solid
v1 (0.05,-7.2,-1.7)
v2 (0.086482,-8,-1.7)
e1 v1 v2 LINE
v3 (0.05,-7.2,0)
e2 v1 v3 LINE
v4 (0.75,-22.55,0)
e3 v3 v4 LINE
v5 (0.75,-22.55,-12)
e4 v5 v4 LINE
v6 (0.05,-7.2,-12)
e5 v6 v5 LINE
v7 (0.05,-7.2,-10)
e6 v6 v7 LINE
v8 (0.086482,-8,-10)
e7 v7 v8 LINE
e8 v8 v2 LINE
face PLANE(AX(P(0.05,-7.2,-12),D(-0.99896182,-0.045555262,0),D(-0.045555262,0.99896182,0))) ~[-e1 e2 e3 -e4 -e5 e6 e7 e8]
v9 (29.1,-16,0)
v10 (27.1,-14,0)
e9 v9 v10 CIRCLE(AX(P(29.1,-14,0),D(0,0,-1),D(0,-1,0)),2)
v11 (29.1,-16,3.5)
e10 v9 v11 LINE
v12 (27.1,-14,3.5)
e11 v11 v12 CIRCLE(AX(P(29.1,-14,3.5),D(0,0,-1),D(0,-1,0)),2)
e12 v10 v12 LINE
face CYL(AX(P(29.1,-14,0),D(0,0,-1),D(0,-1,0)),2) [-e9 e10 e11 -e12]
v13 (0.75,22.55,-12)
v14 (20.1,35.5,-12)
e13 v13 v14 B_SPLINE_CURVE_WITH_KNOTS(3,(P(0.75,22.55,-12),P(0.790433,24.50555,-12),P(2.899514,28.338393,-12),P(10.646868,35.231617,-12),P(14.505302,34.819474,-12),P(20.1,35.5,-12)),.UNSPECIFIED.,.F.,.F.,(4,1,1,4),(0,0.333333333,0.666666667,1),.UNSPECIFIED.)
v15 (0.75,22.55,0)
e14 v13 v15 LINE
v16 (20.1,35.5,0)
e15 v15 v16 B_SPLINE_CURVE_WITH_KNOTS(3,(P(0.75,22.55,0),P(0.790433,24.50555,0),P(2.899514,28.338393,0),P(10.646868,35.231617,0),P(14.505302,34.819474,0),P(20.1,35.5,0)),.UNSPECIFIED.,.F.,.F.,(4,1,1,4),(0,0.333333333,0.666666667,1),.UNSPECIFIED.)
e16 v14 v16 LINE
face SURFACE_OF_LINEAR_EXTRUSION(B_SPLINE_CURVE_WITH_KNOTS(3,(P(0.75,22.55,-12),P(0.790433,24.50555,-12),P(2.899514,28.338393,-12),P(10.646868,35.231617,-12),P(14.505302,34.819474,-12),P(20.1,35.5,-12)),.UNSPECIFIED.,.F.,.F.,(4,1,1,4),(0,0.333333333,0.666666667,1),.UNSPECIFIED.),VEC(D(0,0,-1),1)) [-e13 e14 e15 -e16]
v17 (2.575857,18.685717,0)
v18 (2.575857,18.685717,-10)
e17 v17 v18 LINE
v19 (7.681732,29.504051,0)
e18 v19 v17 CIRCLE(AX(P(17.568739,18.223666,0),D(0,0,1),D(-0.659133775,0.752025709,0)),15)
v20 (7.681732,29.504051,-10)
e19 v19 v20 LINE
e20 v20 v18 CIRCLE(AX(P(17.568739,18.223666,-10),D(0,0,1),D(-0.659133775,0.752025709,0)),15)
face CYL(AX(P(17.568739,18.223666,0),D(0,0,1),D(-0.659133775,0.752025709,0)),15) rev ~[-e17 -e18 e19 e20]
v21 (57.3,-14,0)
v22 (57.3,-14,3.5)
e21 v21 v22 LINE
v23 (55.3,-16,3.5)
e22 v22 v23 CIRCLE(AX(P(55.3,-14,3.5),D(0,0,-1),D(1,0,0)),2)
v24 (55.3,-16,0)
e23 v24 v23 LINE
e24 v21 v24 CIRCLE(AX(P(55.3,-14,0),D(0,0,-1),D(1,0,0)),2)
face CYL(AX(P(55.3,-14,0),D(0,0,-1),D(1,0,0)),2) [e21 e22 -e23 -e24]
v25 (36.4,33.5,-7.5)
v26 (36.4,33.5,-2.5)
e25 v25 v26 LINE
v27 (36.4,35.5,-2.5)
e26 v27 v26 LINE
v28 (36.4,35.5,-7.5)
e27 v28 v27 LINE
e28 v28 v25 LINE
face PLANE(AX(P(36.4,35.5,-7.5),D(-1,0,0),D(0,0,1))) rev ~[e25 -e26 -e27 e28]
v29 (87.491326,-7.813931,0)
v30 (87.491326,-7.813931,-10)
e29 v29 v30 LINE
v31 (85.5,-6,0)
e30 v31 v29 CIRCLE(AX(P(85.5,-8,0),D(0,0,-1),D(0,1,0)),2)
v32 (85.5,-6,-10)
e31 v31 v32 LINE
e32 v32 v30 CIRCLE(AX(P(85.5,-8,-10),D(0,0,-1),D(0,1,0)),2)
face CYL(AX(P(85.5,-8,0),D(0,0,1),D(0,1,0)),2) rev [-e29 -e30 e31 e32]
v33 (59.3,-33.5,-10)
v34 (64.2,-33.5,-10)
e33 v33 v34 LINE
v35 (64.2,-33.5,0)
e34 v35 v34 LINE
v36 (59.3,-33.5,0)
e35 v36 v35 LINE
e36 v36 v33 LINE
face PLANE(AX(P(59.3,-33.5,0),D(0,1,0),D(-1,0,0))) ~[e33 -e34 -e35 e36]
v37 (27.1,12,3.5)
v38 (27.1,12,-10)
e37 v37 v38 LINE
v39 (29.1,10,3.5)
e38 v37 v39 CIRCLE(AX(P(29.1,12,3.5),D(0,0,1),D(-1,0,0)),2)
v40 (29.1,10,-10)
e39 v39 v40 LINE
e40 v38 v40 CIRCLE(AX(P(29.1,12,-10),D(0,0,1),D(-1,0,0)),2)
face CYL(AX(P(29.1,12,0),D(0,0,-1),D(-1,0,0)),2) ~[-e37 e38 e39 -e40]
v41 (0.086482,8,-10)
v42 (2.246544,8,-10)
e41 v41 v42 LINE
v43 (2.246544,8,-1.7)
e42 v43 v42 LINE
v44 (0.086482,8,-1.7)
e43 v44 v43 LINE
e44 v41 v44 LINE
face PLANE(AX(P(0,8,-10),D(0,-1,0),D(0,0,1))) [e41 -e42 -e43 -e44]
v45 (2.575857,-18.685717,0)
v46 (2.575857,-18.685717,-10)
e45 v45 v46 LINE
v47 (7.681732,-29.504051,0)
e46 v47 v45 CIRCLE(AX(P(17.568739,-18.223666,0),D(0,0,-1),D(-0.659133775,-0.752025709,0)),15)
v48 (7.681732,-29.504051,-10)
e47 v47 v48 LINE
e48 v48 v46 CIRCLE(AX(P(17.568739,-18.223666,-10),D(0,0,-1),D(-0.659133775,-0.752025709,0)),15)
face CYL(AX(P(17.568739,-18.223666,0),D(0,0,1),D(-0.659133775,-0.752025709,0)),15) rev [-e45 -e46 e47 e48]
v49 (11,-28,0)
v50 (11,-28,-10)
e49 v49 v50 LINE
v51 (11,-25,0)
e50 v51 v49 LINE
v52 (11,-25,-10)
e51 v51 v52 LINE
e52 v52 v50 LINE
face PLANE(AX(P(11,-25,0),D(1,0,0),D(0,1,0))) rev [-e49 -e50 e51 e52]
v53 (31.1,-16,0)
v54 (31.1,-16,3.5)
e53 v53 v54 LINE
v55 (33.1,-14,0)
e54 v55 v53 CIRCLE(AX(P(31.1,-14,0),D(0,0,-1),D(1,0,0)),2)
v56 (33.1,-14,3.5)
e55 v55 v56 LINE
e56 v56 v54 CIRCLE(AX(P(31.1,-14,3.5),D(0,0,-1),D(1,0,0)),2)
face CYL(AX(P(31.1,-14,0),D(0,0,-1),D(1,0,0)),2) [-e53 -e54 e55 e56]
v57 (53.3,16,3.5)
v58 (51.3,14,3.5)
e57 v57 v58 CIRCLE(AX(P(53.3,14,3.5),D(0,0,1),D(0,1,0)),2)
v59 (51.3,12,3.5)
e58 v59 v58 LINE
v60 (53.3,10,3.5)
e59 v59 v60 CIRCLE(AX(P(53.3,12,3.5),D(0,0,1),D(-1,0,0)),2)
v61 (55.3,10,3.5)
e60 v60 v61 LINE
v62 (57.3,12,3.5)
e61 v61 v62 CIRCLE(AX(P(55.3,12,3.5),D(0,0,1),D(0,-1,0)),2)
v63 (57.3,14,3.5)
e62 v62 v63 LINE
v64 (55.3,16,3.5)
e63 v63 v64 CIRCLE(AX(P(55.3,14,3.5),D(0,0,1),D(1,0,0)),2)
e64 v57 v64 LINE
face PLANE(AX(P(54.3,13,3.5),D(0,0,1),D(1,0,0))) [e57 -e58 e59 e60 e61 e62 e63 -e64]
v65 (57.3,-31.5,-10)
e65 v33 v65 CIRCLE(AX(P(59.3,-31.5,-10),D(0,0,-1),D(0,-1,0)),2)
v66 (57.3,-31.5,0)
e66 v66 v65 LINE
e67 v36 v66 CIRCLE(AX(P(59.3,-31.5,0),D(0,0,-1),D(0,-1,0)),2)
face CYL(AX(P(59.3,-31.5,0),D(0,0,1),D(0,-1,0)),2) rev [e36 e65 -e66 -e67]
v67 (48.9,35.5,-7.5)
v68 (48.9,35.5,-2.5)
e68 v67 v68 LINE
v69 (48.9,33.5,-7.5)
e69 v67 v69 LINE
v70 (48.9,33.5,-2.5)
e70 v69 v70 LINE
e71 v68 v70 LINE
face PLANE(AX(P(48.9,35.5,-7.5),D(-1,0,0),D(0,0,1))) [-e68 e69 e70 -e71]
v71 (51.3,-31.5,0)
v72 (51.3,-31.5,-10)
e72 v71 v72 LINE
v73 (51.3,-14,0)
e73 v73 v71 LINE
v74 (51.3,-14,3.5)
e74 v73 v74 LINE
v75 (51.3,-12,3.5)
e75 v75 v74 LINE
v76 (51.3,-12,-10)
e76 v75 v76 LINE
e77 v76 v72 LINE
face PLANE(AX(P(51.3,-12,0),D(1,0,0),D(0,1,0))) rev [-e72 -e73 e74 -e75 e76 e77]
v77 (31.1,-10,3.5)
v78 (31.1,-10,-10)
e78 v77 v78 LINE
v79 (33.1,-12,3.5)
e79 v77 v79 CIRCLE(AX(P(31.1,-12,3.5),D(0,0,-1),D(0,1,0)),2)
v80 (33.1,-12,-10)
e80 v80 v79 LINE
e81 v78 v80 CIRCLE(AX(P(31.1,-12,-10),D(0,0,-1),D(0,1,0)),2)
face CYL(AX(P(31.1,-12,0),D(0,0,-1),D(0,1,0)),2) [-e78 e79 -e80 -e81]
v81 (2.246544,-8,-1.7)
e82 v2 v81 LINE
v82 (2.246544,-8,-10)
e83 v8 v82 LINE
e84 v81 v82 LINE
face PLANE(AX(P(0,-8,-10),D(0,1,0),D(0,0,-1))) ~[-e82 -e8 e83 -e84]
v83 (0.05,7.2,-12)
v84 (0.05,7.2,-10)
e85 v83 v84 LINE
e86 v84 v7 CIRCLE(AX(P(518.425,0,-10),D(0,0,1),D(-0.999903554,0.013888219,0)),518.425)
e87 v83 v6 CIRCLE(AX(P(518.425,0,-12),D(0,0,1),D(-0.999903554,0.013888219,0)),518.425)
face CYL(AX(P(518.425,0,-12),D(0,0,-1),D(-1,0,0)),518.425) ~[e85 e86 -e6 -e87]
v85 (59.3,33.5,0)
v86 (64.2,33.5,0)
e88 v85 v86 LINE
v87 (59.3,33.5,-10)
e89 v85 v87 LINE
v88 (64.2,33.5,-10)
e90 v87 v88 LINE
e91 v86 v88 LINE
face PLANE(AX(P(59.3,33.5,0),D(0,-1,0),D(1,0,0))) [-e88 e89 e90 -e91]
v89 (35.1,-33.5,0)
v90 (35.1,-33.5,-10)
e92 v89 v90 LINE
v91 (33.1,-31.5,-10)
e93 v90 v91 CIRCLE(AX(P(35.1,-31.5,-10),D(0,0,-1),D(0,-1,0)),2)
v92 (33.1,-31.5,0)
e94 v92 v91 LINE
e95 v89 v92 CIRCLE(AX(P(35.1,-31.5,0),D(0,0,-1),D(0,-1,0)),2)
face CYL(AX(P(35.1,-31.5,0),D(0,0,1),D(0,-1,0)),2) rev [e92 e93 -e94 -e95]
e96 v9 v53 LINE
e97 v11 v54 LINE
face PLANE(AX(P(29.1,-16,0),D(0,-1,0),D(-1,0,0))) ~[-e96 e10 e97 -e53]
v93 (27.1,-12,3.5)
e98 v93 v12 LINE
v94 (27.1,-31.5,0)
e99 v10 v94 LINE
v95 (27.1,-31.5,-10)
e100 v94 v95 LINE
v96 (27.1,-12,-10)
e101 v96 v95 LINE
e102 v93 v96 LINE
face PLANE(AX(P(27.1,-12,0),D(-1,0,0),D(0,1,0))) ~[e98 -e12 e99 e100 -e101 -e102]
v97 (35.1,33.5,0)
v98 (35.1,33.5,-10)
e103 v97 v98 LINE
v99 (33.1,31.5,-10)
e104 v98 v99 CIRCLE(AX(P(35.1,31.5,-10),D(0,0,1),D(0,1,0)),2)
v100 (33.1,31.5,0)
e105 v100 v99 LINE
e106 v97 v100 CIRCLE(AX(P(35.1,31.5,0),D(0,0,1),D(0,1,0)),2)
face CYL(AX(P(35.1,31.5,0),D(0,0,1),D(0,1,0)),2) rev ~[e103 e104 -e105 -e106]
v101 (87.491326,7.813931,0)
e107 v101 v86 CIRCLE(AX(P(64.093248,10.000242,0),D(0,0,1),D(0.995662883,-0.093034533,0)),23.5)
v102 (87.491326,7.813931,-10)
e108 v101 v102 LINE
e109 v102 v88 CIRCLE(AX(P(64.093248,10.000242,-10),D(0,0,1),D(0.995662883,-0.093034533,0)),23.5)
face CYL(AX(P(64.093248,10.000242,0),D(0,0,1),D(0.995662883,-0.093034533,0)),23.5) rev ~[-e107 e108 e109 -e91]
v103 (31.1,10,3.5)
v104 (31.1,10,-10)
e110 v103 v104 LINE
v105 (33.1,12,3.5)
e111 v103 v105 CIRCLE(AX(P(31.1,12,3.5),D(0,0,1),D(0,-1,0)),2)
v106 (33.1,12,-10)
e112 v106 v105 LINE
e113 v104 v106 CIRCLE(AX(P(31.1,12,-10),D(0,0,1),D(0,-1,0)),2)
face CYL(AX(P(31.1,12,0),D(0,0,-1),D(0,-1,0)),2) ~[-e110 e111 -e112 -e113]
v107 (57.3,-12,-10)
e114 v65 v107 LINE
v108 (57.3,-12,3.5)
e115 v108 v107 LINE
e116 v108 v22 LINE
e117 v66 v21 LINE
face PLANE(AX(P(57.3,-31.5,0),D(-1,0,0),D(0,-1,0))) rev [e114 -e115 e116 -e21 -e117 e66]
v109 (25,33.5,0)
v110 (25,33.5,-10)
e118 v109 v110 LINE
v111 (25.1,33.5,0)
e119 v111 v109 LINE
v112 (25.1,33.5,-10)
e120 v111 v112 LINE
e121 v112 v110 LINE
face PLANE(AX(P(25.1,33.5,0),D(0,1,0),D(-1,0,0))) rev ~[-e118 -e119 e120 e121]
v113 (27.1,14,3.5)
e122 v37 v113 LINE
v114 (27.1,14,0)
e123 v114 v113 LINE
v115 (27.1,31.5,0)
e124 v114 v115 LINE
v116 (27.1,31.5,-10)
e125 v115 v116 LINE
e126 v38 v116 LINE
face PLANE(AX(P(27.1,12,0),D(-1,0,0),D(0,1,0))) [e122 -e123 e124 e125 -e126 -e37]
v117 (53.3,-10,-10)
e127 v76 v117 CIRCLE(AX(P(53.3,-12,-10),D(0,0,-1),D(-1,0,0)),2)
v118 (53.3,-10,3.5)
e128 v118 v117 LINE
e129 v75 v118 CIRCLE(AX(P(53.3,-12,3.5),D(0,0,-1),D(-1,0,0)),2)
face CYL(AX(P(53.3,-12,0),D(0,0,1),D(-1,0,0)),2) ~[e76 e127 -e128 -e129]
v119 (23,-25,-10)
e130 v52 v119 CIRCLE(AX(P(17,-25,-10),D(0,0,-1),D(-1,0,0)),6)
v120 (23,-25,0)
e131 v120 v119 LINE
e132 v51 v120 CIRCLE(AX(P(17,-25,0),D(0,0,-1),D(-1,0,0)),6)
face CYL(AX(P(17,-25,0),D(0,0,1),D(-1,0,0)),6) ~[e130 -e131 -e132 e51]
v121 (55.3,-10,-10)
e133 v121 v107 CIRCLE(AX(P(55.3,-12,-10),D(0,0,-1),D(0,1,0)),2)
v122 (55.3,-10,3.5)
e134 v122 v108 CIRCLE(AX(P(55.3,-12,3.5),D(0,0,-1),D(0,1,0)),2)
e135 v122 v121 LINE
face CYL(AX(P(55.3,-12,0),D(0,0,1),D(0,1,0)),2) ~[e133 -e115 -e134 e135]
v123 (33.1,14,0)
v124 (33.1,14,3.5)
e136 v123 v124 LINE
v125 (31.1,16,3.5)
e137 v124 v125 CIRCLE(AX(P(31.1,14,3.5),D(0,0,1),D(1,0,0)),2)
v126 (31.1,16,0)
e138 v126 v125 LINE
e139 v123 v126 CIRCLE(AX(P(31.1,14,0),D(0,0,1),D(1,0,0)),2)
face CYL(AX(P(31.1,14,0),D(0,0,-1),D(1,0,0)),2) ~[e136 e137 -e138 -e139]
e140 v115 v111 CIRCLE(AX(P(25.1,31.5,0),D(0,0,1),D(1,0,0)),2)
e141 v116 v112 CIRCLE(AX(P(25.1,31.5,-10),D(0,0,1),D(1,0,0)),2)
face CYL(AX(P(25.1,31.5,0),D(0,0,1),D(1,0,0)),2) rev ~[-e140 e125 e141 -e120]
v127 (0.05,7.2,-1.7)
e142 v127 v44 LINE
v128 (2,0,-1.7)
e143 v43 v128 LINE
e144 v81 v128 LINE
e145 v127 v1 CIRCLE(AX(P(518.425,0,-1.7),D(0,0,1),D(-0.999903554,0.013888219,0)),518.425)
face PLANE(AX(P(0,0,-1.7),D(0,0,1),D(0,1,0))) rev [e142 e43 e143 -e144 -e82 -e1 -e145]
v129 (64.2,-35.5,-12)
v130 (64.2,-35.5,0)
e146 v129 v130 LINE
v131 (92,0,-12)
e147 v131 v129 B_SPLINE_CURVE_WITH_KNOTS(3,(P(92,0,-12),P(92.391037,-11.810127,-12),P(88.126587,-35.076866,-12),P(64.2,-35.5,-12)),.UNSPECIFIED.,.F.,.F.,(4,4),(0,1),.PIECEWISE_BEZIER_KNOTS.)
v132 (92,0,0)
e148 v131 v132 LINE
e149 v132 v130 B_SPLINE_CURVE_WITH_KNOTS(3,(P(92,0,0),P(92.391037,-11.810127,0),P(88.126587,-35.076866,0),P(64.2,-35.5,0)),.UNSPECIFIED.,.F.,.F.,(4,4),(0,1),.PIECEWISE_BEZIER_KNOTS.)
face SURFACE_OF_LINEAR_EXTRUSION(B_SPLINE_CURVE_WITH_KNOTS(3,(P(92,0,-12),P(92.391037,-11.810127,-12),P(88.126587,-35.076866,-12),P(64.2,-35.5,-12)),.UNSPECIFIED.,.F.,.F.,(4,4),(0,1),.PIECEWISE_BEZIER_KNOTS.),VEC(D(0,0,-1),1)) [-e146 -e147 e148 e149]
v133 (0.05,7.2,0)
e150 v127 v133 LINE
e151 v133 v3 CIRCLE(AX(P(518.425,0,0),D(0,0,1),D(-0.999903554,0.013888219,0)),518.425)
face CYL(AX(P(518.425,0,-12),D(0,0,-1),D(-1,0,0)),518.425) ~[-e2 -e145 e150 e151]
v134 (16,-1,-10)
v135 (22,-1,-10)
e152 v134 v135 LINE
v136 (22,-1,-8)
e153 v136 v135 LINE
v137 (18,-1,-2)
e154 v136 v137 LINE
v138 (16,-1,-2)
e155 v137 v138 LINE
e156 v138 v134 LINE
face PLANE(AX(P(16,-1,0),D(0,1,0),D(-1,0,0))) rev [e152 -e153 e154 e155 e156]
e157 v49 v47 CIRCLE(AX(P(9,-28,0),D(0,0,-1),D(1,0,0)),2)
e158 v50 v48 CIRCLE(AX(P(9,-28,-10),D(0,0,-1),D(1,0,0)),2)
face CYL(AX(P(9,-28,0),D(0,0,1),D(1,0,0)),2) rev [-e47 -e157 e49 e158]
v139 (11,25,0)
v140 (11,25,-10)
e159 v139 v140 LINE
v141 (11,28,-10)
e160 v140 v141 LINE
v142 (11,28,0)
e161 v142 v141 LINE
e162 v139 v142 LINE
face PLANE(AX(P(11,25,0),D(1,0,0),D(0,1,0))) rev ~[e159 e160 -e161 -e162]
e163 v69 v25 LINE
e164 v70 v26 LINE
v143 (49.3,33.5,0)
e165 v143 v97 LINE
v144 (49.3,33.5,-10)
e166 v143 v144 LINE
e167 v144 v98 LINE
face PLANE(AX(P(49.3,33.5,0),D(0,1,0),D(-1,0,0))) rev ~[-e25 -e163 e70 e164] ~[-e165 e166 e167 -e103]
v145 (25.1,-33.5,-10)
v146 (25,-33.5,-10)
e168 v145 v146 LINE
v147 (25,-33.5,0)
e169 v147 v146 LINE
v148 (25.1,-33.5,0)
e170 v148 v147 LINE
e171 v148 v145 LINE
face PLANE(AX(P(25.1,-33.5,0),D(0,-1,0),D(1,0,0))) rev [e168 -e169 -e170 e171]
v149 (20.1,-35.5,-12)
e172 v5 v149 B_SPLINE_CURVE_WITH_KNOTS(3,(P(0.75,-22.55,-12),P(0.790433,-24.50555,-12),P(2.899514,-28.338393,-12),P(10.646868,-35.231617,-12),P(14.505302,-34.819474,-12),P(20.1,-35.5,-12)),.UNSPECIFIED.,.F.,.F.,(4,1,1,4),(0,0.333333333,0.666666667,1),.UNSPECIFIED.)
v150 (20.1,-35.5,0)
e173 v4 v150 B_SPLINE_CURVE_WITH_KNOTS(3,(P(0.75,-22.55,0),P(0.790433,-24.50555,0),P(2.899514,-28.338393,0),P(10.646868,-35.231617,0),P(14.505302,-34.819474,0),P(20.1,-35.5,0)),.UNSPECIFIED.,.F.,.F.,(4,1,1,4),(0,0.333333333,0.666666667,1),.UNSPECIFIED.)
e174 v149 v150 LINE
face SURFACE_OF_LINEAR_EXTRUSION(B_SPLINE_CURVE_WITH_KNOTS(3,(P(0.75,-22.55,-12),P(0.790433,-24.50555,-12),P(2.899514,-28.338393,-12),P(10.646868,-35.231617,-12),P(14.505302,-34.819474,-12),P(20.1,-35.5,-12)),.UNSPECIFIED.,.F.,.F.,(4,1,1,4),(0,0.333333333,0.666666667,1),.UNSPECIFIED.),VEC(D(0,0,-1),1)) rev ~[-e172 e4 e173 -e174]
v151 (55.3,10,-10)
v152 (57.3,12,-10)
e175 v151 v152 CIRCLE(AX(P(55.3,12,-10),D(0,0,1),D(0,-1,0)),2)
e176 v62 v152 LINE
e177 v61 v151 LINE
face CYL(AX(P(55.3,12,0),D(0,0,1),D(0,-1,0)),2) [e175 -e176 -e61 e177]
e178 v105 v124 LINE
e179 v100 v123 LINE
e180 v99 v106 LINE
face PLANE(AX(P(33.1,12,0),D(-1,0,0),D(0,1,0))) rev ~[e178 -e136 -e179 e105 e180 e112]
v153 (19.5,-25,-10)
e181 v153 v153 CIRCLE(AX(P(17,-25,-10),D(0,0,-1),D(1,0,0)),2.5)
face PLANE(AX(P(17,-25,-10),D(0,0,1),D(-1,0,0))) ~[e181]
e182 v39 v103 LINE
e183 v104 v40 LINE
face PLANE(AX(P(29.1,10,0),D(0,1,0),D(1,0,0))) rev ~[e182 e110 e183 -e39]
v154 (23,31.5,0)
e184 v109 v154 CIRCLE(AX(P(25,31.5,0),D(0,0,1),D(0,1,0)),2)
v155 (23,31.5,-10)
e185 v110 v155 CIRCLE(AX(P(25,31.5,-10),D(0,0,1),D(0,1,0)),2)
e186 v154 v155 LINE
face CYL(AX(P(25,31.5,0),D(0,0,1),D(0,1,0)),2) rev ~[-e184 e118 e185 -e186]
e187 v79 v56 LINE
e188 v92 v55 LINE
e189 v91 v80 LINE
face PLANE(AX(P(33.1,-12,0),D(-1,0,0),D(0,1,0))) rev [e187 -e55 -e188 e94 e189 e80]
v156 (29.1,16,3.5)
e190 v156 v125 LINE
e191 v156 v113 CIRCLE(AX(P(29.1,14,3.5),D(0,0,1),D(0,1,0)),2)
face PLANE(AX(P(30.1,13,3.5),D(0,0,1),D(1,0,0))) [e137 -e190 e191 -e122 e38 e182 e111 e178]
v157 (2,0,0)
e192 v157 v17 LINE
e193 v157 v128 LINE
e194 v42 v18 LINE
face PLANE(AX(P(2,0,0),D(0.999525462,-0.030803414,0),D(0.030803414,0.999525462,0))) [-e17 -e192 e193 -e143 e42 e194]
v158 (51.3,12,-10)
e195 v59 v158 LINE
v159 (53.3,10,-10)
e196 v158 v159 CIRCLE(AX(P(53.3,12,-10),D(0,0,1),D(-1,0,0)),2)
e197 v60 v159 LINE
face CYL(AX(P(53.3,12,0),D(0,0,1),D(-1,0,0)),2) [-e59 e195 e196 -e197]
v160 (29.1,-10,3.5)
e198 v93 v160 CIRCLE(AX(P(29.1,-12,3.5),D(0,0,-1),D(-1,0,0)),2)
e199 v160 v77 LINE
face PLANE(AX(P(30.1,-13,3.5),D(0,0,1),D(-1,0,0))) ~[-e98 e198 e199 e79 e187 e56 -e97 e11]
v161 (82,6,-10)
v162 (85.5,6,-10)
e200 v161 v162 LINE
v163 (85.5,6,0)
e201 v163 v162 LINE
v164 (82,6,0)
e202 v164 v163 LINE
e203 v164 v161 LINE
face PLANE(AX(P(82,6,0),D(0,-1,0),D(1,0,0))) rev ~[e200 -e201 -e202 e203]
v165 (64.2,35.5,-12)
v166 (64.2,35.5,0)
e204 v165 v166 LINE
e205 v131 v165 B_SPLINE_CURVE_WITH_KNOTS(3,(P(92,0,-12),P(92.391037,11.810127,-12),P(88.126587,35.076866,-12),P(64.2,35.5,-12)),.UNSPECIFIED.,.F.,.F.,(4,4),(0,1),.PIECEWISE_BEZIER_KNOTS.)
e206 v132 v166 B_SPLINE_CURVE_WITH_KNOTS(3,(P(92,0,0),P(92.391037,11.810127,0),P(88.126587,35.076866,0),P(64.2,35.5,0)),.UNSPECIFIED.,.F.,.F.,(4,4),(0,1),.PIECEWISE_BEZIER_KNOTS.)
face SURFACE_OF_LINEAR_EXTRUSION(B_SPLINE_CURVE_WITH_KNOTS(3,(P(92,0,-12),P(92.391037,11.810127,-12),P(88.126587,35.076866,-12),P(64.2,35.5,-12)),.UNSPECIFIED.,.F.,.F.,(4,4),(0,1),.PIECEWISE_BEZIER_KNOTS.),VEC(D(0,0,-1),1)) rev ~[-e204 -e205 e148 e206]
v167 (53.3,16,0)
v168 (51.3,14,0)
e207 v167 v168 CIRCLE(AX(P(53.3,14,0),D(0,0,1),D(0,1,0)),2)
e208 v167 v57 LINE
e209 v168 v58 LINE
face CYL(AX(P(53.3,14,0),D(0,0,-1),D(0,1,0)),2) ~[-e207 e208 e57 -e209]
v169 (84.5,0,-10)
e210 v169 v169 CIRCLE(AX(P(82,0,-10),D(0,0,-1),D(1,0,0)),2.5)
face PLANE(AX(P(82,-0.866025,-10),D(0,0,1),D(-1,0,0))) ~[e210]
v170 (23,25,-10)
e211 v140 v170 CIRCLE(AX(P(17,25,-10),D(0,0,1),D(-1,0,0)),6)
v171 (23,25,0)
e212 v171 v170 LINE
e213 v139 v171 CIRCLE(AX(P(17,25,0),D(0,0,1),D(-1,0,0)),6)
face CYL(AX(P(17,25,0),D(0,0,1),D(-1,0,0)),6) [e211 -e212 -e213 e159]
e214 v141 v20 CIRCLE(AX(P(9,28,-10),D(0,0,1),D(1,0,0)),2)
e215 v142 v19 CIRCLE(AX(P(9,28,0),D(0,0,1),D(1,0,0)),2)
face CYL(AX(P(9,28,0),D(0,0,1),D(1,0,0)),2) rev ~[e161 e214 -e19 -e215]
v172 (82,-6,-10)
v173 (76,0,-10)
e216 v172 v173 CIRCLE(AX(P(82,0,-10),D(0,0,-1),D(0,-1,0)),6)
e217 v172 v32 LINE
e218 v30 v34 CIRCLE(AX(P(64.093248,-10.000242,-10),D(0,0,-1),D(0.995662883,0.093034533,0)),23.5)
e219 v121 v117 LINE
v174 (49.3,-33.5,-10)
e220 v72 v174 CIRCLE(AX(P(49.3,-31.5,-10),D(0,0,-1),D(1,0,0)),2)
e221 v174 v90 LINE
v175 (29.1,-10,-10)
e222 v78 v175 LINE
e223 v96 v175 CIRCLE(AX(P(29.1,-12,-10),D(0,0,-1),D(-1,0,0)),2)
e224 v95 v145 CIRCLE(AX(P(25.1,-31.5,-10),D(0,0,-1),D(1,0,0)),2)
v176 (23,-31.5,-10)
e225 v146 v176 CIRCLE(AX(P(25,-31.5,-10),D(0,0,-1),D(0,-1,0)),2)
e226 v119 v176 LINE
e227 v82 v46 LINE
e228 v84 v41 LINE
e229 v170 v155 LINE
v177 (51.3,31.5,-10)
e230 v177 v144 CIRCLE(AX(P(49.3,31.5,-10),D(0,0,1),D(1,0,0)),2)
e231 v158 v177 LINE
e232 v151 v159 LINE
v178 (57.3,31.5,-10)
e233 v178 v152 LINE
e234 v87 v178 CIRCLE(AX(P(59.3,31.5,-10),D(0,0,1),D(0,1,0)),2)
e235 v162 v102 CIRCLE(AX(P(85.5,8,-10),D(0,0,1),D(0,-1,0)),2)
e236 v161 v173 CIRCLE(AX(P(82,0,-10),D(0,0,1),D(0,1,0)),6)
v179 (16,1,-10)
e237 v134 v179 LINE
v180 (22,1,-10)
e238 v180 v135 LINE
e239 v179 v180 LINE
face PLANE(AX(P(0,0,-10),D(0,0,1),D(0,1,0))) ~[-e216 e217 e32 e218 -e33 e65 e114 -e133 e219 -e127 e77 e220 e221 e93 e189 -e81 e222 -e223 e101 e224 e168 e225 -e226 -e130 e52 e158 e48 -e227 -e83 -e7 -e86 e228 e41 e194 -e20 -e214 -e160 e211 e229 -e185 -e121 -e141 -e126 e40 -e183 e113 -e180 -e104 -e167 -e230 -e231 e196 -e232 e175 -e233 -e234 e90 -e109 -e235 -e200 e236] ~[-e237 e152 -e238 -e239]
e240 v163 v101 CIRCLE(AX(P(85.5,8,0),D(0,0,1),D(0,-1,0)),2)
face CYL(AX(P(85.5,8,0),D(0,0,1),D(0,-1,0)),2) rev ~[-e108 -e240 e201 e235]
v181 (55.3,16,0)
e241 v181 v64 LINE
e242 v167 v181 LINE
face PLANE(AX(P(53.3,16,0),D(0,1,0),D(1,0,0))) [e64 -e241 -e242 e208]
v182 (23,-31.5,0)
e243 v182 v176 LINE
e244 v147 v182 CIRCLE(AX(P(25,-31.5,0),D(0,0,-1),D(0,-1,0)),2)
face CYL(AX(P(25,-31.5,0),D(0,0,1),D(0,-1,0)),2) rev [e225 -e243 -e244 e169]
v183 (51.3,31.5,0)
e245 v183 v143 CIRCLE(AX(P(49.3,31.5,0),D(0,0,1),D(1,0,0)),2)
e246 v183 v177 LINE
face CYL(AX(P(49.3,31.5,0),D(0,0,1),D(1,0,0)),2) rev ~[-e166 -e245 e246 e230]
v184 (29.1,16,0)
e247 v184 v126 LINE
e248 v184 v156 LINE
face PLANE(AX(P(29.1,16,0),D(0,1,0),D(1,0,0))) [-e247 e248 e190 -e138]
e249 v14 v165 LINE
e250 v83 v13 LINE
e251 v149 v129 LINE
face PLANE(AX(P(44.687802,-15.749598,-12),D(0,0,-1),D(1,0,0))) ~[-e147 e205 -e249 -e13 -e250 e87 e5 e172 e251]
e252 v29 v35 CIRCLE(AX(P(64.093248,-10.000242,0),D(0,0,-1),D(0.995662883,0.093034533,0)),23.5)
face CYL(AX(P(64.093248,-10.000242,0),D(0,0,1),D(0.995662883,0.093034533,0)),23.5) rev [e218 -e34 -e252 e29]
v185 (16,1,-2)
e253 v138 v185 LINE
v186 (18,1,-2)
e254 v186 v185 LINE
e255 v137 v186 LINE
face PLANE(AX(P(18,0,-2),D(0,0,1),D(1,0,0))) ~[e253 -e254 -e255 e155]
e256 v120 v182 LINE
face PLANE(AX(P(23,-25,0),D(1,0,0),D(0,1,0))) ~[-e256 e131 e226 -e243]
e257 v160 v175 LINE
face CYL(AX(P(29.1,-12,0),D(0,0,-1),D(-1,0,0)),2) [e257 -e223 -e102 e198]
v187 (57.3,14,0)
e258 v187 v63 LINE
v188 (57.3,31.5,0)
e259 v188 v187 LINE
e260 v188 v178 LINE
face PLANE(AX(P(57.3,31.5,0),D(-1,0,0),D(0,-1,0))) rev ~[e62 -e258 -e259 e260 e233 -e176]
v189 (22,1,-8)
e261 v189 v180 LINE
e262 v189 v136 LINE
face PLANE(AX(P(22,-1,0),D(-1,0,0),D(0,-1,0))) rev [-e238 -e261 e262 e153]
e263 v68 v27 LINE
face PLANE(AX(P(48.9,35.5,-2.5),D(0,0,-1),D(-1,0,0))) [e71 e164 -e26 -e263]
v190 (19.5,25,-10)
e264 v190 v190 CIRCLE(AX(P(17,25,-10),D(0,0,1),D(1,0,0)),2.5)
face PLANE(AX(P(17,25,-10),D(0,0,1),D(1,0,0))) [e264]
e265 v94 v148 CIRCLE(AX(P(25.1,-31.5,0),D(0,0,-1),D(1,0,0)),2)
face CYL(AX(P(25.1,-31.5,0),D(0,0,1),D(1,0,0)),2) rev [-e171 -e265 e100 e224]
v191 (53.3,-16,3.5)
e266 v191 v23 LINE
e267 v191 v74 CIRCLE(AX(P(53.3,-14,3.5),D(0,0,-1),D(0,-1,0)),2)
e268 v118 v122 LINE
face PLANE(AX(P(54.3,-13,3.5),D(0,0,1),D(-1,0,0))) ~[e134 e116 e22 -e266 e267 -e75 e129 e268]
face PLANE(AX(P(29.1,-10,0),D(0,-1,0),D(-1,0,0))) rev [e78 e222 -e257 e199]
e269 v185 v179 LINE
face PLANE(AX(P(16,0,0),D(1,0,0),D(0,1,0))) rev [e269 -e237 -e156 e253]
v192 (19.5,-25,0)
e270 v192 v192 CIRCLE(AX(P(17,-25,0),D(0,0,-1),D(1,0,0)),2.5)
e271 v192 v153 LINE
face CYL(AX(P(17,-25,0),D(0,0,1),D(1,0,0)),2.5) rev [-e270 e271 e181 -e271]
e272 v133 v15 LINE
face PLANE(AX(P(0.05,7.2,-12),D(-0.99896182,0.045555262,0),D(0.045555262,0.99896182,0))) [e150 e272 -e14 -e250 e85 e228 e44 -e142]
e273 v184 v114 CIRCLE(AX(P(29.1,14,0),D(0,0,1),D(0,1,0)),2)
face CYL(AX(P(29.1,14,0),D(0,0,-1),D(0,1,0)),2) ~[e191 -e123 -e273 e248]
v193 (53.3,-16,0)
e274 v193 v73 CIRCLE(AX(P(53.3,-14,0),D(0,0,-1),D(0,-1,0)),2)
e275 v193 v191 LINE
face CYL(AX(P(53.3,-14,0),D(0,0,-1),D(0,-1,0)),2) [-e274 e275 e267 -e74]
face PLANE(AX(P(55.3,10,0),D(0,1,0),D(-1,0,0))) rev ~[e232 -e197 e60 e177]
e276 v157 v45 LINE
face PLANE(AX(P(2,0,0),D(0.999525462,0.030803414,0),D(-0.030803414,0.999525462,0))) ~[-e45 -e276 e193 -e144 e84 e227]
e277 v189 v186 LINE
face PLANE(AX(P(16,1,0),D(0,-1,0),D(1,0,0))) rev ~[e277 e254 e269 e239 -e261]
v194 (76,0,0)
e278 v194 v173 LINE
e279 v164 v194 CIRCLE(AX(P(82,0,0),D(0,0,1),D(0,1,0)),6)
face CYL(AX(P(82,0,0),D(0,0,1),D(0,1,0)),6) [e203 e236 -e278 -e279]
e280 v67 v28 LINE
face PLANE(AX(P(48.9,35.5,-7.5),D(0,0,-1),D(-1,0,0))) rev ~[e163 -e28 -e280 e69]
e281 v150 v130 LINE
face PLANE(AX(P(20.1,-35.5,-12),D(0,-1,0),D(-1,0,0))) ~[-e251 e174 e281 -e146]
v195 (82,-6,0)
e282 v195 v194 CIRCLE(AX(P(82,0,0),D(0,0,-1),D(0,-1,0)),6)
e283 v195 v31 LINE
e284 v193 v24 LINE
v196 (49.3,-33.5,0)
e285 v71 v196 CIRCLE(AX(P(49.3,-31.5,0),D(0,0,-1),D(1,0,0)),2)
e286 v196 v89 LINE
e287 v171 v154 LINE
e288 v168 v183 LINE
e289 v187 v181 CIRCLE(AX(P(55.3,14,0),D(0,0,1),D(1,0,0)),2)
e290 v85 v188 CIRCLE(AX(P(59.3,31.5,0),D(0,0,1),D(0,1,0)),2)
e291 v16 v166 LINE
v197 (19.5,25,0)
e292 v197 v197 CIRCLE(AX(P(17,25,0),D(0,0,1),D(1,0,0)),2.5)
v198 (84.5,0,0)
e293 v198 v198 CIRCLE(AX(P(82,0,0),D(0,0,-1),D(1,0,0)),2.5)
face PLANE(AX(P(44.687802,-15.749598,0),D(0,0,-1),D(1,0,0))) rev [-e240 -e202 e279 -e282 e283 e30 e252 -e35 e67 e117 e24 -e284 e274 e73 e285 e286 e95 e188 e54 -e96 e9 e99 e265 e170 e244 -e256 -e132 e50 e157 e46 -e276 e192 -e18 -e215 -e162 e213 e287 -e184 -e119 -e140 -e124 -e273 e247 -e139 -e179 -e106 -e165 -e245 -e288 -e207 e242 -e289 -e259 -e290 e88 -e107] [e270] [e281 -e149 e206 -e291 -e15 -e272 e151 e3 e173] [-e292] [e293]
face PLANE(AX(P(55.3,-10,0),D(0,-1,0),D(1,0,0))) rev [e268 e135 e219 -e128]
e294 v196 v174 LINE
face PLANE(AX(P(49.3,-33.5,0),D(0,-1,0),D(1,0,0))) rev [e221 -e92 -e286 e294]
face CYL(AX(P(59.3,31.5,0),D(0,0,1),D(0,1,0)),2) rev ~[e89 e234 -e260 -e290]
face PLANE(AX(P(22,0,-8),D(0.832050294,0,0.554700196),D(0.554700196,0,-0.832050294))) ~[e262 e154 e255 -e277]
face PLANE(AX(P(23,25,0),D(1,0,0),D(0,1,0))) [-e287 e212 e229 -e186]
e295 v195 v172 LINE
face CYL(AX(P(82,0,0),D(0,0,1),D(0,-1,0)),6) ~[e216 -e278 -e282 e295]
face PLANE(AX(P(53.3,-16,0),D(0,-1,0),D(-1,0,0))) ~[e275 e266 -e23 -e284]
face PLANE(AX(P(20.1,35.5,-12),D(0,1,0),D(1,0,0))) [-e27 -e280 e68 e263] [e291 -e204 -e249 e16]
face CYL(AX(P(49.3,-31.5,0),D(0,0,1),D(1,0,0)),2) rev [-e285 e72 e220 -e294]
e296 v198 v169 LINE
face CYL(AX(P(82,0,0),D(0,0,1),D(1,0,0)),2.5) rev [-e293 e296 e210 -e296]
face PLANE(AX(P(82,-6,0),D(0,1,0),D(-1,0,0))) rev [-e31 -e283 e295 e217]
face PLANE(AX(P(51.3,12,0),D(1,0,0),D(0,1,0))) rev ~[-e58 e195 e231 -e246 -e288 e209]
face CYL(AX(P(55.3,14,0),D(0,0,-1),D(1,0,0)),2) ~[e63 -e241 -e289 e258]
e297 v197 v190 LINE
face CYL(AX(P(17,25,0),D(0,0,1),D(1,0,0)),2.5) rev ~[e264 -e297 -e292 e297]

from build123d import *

# Parameters (mm, degrees)
PAD005_DEPTH    = 12
SKETCH025_R     = 2.5
POCKET019_DEPTH = 10
POCKET020_DEPTH = 1
SKETCH027_W     = 8
SKETCH027_H     = 8.3
POCKET021_DEPTH = 5
PAD006_DEPTH    = 3.5
SKETCH029_W     = 12.5
SKETCH029_H     = 5
POCKET022_DEPTH = 2


with BuildPart() as part:
    # Sketch024 → Pad005 (new body)
    with BuildSketch(Plane.XY):
        with BuildLine():
            ThreePointArc((0, 0), (0.0125001507, 3.6000868045), (0.05, 7.2))
            Line((0.05, 7.2), (0.75, 22.55))
            add(Edge.make_bspline(
                [(0.75, 22.55), (0.790433, 24.50555), (2.8995135699, 28.3383927733), (10.6468681476, 35.231617337), (14.5053016695, 34.8194742751), (20.1, 35.5)],
                knots=[0, 0, 0, 0, 0.3333333333, 0.6666666667, 1, 1, 1, 1], degree=3))
            Line((20.1, 35.5), (64.2, 35.5))
            add(Edge.make_bspline(
                [(92, 0), (92.391037, 11.810127), (88.126587, 35.076866), (64.2, 35.5)],
                knots=[0, 0, 0, 0, 1, 1, 1, 1], degree=3))
            Line((92, 0), (0, 0))
        make_face()
    extrude(amount=PAD005_DEPTH)

    # Sketch025 (on Face8 of Pad005) → Pocket019 (cut)
    with BuildSketch(Plane.XY.offset(12)):
        with Locations((17, 25)):
            Circle(SKETCH025_R)
        with BuildLine():
            ThreePointArc((84.5, 0), (82, 2.5), (79.5, 0))
            Line((79.5, 0), (84.5, 0))
        make_face()
        with BuildLine():
            Line((2, 0), (2.5758571429, 18.6857169977))
            ThreePointArc((7.6817324497, 29.5040514173), (4.0036624605, 24.625907301), (2.5758571429, 18.6857169977))
            ThreePointArc((11, 28), (9.8256709089, 29.8216112511), (7.6817324497, 29.5040514173))
            Line((11, 25), (11, 28))
            ThreePointArc((11, 25), (17, 19), (23, 25))
            Line((23, 25), (23, 31.5))
            ThreePointArc((25, 33.5), (23.5857864376, 32.9142135624), (23, 31.5))
            Line((25.1, 33.5), (25, 33.5))
            ThreePointArc((27.1, 31.5), (26.5142135624, 32.9142135624), (25.1, 33.5))
            Line((27.1, 12), (27.1, 31.5))
            ThreePointArc((27.1, 12), (27.6857864376, 10.5857864376), (29.1, 10))
            Line((31.1, 10), (29.1, 10))
            ThreePointArc((31.1, 10), (32.5142135624, 10.5857864376), (33.1, 12))
            Line((33.1, 31.5), (33.1, 12))
            ThreePointArc((35.1, 33.5), (33.6857864376, 32.9142135624), (33.1, 31.5))
            Line((49.3, 33.5), (35.1, 33.5))
            ThreePointArc((51.3, 31.5), (50.7142135624, 32.9142135624), (49.3, 33.5))
            Line((51.3, 12), (51.3, 31.5))
            ThreePointArc((51.3, 12), (51.8857864376, 10.5857864376), (53.3, 10))
            Line((55.3, 10), (53.3, 10))
            ThreePointArc((55.3, 10), (56.7142135624, 10.5857864376), (57.3, 12))
            Line((57.3, 31.4999999999), (57.3, 12))
            ThreePointArc((59.3, 33.4999999999), (57.8857864376, 32.9142135623), (57.3, 31.4999999999))
            Line((59.3, 33.5), (64.2, 33.5))
            ThreePointArc((87.491325765, 7.8139309331), (81.5019467421, 25.7859071373), (64.2, 33.5))
            ThreePointArc((85.5, 6), (86.8468225322, 6.521463877), (87.491325765, 7.8139309331))
            Line((82, 6), (85.5, 6))
            ThreePointArc((82, 6), (77.7573593129, 4.2426406871), (76, 0))
            Line((22, 0), (76, 0))
            Line((22, 1), (22, 0))
            Line((16, 1), (22, 1))
            Line((16, 0), (16, 1))
            Line((2, 0), (16, 0))
        make_face()
    extrude(amount=-POCKET019_DEPTH, mode=Mode.SUBTRACT)

    # Sketch026 (on Face3 of Pocket019) → Pocket020 (cut)
    with BuildSketch(Plane.XZ):
        Polygon((22, 12), (22, 4), (18, 10), (16, 10), (16, 12), align=None)
    extrude(amount=-POCKET020_DEPTH, mode=Mode.SUBTRACT)

    # Sketch027 → Pocket021 (cut)
    with BuildSketch(Plane.YZ):
        with Locations((4, 6.15)):
            Rectangle(SKETCH027_W, SKETCH027_H)
    extrude(amount=POCKET021_DEPTH, mode=Mode.SUBTRACT)

    # Sketch028 (on Face8 of Pocket021) → Pad006 (join)
    with BuildSketch(Plane.XY.offset(12)):
        with BuildLine():
            ThreePointArc((31.1, 10), (32.5142135624, 10.5857864376), (33.1, 12))
            Line((33.1, 12), (33.1, 14))
            ThreePointArc((33.1, 14), (32.5142135624, 15.4142135624), (31.1, 16))
            Line((29.1, 16), (31.1, 16))
            ThreePointArc((29.1, 16), (27.6857864376, 15.4142135624), (27.1, 14))
            Line((27.1, 12), (27.1, 14))
            ThreePointArc((27.1, 12), (27.6857864376, 10.5857864376), (29.1, 10))
            Line((29.1, 10), (31.1, 10))
        make_face()
        with BuildLine():
            ThreePointArc((51.3, 12), (51.8857864376, 10.5857864376), (53.3, 10))
            Line((53.3, 10), (55.3, 10))
            ThreePointArc((55.3, 10), (56.7142135624, 10.5857864376), (57.3, 12))
            Line((57.3, 12), (57.3, 14))
            ThreePointArc((57.3, 14), (56.7142135624, 15.4142135624), (55.3, 16))
            Line((53.3, 16), (55.3, 16))
            ThreePointArc((53.3, 16), (51.8857864376, 15.4142135624), (51.3, 14))
            Line((51.3, 12), (51.3, 14))
        make_face()
    extrude(amount=PAD006_DEPTH)

    # Mirrored002: part across XZ


with BuildPart() as part_1:
    add(part.part)
    add(part.part.mirror(Plane.XZ))

    # Sketch029 (on Face33 of Mirrored002) → Pocket022 (cut)
    with BuildSketch(Plane(origin=(0, 35.5, 0), x_dir=(-1, 0, 0), z_dir=(0, 1, 0))):
        with Locations((-42.65, 7)):
            Rectangle(SKETCH029_W, SKETCH029_H)
    extrude(amount=-POCKET022_DEPTH, mode=Mode.SUBTRACT)


with BuildPart() as part_2:
    # Body004 placement: moved
    add(part_1.part.moved(Location((0, 0, -12))))


solid = part_2.part
